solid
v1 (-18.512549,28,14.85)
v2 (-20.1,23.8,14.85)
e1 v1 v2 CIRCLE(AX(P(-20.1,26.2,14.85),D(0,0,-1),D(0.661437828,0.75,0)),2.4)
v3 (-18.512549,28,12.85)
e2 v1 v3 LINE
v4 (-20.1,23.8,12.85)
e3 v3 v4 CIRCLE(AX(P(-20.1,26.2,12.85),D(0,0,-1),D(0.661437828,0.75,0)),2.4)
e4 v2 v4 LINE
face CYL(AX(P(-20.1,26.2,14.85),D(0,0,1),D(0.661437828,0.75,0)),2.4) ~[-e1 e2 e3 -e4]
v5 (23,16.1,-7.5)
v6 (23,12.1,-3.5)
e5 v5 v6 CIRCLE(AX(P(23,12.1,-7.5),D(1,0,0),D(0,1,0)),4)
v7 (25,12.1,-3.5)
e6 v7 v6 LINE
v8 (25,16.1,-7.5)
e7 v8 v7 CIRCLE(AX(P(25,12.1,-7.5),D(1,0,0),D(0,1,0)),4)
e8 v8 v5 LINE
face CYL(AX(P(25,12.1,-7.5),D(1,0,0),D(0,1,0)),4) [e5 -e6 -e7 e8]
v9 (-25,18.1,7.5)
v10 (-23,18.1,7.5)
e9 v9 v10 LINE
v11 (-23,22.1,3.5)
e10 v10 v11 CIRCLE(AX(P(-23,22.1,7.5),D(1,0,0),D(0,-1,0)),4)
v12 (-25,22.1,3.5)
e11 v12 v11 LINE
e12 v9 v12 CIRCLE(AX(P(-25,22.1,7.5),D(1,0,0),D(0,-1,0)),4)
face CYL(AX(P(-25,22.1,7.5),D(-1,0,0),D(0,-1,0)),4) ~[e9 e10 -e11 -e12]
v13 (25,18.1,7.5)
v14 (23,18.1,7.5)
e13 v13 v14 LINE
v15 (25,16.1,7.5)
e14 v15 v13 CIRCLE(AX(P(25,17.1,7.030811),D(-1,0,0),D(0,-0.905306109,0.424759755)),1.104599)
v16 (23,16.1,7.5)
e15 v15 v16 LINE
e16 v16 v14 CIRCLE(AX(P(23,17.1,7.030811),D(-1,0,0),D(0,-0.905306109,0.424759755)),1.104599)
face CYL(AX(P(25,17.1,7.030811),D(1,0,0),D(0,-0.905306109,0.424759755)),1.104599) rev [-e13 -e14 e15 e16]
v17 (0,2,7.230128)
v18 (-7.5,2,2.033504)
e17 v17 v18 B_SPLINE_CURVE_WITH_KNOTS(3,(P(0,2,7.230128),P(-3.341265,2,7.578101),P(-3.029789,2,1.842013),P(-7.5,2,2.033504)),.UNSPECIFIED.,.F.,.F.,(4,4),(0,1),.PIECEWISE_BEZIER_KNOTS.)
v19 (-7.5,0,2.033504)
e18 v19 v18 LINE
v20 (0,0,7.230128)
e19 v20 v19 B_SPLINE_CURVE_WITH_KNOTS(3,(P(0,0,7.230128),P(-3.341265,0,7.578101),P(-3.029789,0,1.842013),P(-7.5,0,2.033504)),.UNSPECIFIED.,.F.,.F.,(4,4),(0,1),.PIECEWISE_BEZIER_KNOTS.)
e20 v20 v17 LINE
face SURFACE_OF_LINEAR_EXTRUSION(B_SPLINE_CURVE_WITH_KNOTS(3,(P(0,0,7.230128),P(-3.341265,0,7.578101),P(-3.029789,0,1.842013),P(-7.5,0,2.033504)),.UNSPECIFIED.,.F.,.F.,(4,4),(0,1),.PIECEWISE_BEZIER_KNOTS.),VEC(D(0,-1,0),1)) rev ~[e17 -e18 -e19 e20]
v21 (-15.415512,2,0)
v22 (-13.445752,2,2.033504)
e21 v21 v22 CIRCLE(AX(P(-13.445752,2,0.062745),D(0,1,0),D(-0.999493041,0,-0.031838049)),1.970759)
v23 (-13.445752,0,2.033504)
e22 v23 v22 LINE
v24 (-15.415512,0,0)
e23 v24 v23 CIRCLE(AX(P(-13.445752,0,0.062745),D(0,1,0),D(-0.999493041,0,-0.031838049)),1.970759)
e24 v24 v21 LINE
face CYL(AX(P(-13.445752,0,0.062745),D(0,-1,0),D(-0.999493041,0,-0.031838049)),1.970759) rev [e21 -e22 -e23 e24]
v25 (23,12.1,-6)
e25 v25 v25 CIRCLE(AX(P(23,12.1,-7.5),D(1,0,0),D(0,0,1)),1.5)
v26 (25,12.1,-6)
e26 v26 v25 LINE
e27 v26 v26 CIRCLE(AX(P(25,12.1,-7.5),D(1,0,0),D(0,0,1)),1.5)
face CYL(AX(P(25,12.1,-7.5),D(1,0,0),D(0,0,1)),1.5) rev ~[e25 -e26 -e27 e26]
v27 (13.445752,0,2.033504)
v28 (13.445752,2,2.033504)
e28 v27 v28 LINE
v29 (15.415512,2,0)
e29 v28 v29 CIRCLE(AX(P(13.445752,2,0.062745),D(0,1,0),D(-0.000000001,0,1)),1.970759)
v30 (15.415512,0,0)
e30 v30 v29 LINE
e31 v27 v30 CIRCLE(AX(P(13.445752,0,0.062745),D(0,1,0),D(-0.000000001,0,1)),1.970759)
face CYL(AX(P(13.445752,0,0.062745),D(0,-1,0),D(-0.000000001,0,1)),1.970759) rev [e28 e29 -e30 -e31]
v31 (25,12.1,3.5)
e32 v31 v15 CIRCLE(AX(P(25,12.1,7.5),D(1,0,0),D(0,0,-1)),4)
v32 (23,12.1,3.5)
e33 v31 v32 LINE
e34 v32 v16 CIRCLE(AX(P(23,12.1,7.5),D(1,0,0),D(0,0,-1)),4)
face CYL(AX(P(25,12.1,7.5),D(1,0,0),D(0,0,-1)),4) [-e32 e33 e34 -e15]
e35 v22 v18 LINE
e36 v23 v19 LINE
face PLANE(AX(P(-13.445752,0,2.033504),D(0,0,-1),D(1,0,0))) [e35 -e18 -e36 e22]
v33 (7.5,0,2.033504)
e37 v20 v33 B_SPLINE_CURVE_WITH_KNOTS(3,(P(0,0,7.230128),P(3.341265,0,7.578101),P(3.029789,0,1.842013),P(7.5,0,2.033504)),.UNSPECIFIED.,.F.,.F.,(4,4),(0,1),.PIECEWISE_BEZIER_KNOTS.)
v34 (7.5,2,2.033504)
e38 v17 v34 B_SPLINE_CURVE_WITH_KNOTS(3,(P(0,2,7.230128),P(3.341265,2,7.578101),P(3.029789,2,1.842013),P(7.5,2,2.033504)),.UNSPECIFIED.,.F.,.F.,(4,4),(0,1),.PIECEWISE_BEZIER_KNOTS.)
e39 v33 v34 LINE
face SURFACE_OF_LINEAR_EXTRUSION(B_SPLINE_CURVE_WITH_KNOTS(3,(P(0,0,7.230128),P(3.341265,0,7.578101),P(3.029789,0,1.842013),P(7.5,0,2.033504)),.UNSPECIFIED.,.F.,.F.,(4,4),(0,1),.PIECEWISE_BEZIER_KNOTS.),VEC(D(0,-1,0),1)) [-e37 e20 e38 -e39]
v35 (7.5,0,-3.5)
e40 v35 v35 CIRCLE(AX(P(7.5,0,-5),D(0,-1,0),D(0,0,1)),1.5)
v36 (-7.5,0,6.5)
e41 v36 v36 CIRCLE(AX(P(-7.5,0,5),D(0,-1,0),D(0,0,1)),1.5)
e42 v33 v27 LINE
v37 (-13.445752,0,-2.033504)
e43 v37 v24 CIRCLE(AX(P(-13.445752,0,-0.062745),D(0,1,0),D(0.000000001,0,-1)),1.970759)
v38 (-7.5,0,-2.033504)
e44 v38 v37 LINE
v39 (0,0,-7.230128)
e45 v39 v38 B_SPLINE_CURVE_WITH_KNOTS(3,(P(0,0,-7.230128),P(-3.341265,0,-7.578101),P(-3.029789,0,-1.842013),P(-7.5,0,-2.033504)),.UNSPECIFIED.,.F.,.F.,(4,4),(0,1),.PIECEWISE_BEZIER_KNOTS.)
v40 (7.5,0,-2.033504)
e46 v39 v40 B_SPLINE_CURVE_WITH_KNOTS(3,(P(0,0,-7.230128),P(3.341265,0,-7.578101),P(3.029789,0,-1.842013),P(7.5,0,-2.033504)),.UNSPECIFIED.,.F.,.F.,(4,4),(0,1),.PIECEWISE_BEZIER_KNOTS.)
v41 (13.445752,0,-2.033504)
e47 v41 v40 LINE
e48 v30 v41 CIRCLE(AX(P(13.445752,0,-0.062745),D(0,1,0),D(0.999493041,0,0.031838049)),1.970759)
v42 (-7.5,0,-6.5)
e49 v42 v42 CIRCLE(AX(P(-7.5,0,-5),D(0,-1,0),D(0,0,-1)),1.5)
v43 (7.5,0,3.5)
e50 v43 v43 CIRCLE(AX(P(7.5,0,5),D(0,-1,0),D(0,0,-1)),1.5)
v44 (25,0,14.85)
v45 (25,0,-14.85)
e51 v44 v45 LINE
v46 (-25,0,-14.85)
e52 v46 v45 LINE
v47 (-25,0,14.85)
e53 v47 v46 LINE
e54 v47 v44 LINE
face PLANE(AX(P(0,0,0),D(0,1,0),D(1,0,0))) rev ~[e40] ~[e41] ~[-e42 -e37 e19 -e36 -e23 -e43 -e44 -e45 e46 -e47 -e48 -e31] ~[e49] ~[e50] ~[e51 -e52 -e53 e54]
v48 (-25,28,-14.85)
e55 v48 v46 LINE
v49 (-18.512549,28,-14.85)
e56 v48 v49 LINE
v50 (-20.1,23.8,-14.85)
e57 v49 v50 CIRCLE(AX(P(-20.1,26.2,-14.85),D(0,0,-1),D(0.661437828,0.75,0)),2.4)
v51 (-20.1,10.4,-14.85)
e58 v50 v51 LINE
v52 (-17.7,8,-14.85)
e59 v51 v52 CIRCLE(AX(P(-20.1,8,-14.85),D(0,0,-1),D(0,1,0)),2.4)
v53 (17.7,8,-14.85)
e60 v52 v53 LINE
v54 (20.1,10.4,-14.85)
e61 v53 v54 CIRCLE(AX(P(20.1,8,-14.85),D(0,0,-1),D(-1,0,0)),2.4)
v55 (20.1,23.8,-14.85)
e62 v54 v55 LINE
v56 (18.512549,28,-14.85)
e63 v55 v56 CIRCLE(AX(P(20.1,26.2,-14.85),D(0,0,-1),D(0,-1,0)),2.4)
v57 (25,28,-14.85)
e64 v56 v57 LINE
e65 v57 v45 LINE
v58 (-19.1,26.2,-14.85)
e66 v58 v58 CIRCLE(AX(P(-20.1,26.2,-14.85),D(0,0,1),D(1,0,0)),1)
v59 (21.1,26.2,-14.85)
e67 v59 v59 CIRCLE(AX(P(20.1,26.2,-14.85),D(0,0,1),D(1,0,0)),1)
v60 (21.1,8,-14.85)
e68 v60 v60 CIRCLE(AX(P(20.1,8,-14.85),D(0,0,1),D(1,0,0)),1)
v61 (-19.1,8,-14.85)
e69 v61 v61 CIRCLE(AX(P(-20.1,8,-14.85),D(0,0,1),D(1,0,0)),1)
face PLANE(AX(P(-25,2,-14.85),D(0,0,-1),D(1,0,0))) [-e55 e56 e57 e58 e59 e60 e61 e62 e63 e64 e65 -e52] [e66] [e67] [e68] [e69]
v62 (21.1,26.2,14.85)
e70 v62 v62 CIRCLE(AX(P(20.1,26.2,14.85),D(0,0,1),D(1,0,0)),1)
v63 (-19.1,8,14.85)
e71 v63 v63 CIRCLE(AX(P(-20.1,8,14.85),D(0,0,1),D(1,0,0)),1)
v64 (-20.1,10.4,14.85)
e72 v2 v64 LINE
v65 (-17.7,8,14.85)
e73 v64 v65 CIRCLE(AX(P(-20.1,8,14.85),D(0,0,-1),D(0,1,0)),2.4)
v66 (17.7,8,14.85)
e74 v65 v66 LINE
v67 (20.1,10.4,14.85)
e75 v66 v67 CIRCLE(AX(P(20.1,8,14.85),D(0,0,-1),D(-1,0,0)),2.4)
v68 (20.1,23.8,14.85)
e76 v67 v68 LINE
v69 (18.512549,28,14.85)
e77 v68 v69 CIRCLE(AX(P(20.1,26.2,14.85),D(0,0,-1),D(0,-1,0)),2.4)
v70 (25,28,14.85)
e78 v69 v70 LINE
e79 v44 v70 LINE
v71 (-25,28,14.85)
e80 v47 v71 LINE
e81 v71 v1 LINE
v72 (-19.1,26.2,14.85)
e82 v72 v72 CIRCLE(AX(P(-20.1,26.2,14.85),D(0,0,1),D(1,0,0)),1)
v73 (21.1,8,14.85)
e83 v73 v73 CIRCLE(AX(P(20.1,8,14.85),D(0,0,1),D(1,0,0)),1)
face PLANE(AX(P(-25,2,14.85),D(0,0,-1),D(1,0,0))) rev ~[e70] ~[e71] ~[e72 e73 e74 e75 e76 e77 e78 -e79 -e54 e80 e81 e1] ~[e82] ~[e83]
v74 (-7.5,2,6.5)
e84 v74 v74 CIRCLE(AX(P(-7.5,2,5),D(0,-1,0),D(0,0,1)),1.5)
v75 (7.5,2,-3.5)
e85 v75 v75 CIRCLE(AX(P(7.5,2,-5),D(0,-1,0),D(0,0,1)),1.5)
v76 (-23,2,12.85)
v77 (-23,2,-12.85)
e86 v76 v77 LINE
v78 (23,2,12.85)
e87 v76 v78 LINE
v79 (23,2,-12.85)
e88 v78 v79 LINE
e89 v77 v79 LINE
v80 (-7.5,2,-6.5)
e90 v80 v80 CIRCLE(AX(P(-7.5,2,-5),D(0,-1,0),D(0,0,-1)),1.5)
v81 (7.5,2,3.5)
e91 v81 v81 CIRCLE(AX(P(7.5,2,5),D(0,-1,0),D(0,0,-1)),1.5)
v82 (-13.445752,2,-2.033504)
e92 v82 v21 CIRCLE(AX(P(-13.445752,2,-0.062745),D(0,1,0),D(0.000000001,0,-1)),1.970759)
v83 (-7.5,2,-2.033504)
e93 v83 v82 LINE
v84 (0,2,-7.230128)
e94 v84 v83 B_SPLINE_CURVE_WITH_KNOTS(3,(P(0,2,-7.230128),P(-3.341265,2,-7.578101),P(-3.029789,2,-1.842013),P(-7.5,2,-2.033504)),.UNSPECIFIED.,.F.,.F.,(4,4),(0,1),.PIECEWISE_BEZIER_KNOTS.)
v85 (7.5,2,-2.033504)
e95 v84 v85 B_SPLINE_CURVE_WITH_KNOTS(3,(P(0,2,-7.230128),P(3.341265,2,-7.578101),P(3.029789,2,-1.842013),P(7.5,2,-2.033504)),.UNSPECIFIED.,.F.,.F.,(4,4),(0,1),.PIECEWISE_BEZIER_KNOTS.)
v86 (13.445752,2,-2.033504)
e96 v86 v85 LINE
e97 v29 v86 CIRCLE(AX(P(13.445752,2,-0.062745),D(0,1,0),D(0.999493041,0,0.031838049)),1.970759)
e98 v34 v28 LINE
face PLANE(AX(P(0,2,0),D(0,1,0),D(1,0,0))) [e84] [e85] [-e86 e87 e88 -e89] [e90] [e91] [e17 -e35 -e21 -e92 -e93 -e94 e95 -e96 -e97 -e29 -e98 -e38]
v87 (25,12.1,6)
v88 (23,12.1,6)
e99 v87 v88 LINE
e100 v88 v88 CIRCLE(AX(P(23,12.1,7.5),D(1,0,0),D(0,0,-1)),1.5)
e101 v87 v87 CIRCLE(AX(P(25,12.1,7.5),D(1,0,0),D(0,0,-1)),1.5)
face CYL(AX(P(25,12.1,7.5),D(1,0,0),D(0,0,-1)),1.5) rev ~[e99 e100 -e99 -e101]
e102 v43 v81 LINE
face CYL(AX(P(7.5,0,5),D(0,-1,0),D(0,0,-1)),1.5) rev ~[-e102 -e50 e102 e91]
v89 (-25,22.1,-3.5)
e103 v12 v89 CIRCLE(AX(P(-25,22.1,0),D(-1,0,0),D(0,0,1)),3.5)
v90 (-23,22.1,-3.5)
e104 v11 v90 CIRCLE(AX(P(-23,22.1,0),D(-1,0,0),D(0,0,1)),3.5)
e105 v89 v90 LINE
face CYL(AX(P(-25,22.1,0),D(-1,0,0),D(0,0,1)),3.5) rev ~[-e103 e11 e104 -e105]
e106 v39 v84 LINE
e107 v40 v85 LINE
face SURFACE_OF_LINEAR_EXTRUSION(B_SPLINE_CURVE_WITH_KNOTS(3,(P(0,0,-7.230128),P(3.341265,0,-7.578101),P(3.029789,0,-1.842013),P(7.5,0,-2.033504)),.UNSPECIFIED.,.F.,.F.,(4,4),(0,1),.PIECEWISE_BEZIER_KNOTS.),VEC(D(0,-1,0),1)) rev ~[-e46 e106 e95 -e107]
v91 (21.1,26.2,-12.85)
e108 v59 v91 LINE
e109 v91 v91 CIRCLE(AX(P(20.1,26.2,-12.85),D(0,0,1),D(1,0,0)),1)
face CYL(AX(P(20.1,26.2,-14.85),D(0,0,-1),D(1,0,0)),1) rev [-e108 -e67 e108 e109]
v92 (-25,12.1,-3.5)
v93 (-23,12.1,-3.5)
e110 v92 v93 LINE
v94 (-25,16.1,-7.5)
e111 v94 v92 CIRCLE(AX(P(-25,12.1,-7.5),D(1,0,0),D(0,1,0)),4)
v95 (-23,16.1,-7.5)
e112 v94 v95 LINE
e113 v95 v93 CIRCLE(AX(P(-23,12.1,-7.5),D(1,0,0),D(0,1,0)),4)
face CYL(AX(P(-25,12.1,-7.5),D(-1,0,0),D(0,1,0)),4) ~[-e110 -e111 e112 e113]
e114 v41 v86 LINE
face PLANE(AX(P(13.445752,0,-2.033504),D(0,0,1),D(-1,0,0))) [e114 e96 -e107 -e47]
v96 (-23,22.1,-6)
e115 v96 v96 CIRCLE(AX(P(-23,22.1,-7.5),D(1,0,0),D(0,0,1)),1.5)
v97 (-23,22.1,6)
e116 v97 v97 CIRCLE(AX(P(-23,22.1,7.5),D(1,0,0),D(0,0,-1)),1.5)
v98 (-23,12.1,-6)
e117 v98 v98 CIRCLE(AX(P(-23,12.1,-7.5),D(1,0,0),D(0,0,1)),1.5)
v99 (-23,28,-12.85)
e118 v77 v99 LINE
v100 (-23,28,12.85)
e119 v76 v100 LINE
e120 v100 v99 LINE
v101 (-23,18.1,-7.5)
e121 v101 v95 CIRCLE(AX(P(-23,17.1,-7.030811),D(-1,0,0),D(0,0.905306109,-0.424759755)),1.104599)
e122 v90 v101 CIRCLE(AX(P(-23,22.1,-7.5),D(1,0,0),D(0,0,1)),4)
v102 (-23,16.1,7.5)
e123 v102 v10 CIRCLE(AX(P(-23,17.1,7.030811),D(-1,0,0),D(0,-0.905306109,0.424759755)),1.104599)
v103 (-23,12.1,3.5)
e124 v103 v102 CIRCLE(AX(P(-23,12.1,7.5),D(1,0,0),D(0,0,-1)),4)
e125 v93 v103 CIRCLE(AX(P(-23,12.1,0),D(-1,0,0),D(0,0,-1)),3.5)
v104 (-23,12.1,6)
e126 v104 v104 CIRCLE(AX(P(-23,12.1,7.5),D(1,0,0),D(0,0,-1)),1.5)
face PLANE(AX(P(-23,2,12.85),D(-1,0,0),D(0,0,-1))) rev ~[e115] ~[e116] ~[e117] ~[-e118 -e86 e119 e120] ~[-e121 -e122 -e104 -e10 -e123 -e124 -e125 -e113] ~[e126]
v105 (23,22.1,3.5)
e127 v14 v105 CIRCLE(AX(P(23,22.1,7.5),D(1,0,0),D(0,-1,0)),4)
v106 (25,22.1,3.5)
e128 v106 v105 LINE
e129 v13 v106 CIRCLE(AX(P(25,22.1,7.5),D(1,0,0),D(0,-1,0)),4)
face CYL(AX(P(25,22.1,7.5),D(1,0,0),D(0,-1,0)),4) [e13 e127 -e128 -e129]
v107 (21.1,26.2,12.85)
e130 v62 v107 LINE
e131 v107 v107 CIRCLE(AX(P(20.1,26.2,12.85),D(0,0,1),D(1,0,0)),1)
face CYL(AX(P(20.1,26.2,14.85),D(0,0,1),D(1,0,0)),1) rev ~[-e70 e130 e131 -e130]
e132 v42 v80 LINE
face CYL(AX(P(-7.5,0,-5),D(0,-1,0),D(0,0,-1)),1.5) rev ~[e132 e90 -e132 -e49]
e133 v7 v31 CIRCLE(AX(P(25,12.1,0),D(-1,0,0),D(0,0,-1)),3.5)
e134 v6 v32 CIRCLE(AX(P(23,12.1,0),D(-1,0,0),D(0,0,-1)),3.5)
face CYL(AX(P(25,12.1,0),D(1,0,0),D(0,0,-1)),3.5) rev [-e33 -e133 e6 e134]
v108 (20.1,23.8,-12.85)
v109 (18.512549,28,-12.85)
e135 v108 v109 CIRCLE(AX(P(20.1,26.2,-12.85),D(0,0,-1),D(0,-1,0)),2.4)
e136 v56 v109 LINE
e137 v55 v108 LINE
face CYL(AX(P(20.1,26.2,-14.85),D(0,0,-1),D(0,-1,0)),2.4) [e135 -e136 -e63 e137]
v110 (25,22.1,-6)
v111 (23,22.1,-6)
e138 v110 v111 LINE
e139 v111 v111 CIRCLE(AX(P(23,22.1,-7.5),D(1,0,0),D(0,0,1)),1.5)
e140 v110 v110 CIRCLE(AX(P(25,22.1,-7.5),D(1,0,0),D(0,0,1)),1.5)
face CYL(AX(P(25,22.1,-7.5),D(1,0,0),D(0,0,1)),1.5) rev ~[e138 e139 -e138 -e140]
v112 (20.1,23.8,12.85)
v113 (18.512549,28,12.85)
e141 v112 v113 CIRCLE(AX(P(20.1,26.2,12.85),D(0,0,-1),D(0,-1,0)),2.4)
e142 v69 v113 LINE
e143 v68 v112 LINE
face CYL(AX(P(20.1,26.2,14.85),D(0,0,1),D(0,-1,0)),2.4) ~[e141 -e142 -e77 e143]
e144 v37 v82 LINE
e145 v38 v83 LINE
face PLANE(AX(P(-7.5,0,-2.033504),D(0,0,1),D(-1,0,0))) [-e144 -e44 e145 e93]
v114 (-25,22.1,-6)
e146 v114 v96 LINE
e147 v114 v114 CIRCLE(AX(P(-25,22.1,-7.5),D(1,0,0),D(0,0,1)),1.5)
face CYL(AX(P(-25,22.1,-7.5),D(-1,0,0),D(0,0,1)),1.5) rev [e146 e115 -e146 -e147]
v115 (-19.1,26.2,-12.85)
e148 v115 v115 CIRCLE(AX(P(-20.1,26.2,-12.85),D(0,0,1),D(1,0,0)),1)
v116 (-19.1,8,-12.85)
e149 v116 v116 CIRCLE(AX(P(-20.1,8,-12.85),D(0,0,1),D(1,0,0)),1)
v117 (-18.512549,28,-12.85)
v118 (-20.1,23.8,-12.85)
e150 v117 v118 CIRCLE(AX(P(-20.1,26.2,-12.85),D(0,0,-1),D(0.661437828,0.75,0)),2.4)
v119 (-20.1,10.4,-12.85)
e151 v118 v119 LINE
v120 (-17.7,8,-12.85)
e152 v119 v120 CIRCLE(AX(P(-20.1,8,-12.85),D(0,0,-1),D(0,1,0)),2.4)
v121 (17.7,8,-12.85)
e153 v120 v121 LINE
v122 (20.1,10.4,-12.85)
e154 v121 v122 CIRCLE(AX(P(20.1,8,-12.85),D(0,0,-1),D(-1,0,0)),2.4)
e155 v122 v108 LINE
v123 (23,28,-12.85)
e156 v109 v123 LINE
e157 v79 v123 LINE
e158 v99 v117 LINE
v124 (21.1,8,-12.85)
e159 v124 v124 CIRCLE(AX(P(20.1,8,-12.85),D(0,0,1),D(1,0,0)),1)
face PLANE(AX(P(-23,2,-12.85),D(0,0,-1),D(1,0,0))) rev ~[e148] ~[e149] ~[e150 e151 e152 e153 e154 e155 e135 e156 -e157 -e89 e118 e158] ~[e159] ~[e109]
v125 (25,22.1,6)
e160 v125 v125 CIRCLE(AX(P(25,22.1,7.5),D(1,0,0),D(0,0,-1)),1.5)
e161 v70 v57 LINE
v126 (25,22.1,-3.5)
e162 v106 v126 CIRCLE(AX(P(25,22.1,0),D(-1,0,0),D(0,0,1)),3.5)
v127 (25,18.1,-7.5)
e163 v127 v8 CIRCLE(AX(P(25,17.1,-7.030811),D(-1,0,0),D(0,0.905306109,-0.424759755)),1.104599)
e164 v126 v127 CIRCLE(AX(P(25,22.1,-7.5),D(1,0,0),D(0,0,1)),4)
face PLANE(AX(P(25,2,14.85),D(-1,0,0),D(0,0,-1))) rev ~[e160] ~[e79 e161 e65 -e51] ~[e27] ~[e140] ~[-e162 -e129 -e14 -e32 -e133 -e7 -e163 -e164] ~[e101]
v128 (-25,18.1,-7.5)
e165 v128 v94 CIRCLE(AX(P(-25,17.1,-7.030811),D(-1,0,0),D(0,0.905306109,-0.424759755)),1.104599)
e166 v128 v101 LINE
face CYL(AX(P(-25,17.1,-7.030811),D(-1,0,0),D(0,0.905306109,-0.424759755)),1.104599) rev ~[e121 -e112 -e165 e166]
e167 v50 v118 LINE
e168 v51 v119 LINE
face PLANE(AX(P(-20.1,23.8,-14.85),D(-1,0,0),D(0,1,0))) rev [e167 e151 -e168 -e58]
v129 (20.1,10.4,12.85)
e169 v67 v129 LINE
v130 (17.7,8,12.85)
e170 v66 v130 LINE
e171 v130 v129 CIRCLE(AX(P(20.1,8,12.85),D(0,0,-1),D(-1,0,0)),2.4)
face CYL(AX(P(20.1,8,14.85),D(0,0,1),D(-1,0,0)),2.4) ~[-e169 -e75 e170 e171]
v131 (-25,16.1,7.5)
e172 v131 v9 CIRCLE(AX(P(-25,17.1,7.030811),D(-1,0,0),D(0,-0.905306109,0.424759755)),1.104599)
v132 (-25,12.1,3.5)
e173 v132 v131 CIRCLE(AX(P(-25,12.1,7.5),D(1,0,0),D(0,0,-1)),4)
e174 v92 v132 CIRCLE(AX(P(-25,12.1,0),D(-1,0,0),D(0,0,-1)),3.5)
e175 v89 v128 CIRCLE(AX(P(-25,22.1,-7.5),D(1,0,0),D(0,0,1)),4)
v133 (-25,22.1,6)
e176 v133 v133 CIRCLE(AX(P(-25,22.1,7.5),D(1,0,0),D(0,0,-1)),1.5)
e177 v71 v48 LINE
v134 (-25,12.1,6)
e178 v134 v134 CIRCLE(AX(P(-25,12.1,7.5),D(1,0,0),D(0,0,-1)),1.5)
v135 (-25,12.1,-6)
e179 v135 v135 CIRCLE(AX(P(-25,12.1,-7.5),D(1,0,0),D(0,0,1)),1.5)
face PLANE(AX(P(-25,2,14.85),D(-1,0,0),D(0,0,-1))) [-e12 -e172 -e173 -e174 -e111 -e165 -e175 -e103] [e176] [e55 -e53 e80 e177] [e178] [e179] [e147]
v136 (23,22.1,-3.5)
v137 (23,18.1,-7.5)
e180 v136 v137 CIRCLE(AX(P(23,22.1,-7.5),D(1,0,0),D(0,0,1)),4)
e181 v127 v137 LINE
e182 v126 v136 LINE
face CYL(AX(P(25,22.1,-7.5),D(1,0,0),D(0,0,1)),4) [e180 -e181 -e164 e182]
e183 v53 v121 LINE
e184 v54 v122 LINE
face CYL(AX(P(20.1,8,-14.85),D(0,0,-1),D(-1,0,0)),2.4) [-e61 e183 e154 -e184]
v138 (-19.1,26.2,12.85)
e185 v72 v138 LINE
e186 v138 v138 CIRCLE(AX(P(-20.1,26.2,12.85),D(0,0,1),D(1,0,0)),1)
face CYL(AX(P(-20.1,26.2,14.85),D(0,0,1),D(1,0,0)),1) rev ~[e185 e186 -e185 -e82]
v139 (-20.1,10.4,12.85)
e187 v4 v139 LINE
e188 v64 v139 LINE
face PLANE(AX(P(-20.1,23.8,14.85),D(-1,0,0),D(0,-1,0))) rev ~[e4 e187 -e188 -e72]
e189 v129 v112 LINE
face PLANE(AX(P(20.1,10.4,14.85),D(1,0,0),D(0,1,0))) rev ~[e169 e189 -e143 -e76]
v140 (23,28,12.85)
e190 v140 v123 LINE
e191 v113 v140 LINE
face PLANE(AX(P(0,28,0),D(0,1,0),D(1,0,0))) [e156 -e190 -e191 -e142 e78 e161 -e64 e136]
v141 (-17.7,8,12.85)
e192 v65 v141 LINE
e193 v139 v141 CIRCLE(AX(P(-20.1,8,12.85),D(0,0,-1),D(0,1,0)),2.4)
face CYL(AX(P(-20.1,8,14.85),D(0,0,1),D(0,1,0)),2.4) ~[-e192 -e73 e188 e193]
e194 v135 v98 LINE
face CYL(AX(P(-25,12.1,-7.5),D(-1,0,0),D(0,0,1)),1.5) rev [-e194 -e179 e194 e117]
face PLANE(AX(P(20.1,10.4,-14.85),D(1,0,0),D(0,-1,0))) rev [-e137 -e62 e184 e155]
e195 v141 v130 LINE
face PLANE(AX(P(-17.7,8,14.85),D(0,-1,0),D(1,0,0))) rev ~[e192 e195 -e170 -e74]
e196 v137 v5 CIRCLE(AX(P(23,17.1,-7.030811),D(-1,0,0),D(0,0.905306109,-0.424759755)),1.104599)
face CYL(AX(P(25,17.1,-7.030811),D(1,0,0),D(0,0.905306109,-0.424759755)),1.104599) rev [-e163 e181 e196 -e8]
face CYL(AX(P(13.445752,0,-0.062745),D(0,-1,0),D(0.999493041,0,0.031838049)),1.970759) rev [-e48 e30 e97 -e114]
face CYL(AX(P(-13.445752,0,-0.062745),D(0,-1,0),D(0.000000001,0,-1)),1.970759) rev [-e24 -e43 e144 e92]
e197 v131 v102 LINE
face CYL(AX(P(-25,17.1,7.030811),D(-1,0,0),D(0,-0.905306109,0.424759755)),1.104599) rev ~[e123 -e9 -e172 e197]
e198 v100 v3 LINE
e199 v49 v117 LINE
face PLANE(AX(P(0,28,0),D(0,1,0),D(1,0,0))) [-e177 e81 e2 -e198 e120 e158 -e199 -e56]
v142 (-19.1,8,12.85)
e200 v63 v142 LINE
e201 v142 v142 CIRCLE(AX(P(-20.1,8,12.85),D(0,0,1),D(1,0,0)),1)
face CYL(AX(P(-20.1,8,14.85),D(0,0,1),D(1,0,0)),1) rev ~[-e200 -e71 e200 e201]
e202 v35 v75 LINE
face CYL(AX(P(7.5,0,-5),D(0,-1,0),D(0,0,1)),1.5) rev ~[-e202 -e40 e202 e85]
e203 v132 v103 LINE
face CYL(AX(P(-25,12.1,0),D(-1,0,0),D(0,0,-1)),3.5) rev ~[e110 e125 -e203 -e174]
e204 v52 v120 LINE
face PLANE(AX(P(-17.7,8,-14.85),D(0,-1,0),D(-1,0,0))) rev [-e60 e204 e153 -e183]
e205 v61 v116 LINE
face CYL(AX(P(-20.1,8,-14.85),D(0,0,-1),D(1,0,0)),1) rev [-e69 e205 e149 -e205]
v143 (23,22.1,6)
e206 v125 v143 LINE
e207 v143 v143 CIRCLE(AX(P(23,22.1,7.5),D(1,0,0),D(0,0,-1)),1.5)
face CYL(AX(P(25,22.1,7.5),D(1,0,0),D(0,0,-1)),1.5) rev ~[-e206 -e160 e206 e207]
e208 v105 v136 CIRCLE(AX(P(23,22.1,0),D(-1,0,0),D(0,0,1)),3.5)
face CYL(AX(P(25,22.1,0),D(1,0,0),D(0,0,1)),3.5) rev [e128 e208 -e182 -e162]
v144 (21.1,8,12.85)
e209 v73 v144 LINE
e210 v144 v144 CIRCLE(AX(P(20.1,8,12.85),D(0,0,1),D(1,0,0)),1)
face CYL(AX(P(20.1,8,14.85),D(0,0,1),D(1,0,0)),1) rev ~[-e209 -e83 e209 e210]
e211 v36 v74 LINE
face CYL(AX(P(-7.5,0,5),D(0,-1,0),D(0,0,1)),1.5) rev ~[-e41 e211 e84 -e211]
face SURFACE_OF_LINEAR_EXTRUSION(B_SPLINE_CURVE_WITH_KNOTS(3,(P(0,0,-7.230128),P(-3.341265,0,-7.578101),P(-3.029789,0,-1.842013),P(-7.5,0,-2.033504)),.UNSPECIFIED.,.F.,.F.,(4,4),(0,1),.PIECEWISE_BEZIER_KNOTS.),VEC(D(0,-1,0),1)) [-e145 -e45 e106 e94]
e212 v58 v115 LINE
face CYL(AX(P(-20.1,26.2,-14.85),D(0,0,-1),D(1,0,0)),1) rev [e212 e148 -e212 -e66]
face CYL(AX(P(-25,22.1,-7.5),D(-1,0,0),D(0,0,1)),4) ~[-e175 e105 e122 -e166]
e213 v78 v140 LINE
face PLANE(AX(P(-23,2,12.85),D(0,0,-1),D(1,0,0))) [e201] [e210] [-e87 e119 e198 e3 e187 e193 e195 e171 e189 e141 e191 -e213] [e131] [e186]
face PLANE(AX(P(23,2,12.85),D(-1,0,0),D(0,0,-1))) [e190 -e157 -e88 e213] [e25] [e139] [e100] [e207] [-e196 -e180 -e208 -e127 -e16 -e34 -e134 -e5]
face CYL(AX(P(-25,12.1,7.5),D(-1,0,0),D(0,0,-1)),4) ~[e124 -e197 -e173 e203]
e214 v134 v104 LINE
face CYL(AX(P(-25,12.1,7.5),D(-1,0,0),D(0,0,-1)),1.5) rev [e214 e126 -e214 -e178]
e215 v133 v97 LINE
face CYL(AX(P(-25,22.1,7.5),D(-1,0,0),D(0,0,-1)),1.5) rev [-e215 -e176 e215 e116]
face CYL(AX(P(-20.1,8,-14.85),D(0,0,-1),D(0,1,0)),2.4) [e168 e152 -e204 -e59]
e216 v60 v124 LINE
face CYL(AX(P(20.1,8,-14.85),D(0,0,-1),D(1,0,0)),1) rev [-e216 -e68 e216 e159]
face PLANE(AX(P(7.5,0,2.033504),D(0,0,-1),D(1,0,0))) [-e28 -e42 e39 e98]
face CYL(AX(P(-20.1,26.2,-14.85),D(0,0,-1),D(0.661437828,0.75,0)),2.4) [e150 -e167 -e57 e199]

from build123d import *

# Parameters (mm, degrees)
SKETCH_1_W          = 50
SKETCH_1_H          = 29.7
EXTRUDE_1_DEPTH     = 2
SKETCH_2_W          = 50
SKETCH_2_H          = 29.7
SKETCH_2_W_2        = 46
SKETCH_2_H_2        = 25.7
EXTRUDE_2_DEPTH     = 26
SKETCH_4_R          = 1.5
CUT_EXTRUDE_2_DEPTH = 2
SKETCH_5_R          = 1.5
CUT_EXTRUDE_3_DEPTH = 2
SKETCH_3_R          = 1
CUT_EXTRUDE_5_DEPTH = 2


with BuildPart() as part:
    # 草图1 → 凸台-拉伸1 (new body)
    with BuildSketch(Plane(origin=(0, 0, 0), x_dir=(1, 0, 0), z_dir=(0, 1, 0))):
        Rectangle(SKETCH_1_W, SKETCH_1_H)
    extrude(amount=EXTRUDE_1_DEPTH)

    # 草图2 → 凸台-拉伸2 (add)
    with BuildSketch(Plane(origin=(0, 2, 0), x_dir=(1, 0, 0), z_dir=(0, 1, 0))):
        Rectangle(SKETCH_2_W, SKETCH_2_H)
        Rectangle(SKETCH_2_W_2, SKETCH_2_H_2, mode=Mode.SUBTRACT)
    extrude(amount=EXTRUDE_2_DEPTH)

    # 草图4 → 切除-拉伸2 (cut)
    with BuildSketch(Plane(origin=(25, 0, 0), x_dir=(0, 0, -1), z_dir=(1, 0, 0))):
        with Locations((-7.5, 12.1)):
            Circle(SKETCH_4_R)
        with Locations((-7.5, 22.1)):
            Circle(SKETCH_4_R)
        with Locations(Location((7.5, 12.1, 0), (0, 0, 180))):
            Circle(SKETCH_4_R)
        with Locations(Location((7.5, 22.1, 0), (0, 0, 180))):
            Circle(SKETCH_4_R)
        with BuildLine():
            ThreePointArc((-7.5, 18.1), (-4.671572875, 19.271572875), (-3.5, 22.1))
            ThreePointArc((-3.5, 22.1), (0, 25.6), (3.5, 22.1))
            ThreePointArc((3.5, 22.1), (4.671572875, 19.271572875), (7.5, 18.1))
            ThreePointArc((7.5, 18.1), (8.135409658, 17.1), (7.5, 16.1))
            ThreePointArc((7.5, 16.1), (4.671572875, 14.928427125), (3.5, 12.1))
            ThreePointArc((3.5, 12.1), (0, 8.6), (-3.5, 12.1))
            ThreePointArc((-3.5, 12.1), (-4.671572875, 14.928427125), (-7.5, 16.1))
            ThreePointArc((-7.5, 16.1), (-8.135409658, 17.1), (-7.5, 18.1))
        make_face()
    cut_extrude_2 = extrude(amount=-CUT_EXTRUDE_2_DEPTH, mode=Mode.SUBTRACT)

    # 镜向2: 切除-拉伸2 across plane
    add(cut_extrude_2.mirror(Plane(origin=(0, 0, 0), x_dir=(0, 0, 1), z_dir=(1, 0, 0))), mode=Mode.SUBTRACT)

    # 草图5 → 切除-拉伸3 (cut)
    with BuildSketch(Plane.XZ):
        with Locations(Location((7.5, 5, 0), (0, 0, 270))):
            Circle(SKETCH_5_R)
        with Locations(Location((7.5, -5, 0), (0, 0, 90))):
            Circle(SKETCH_5_R)
        with Locations(Location((-7.5, -5, 0), (0, 0, 270))):
            Circle(SKETCH_5_R)
        with Locations(Location((-7.5, 5, 0), (0, 0, 90))):
            Circle(SKETCH_5_R)
        with BuildLine():
            Line((7.5, 2.033504468), (13.445752083, 2.033504468))
            ThreePointArc((13.445752083, 2.033504468), (14.861299313, 1.433919229), (15.415512326, 0))
            ThreePointArc((15.415512326, 0), (14.861299313, -1.433919229), (13.445752083, -2.033504468))
            Line((13.445752083, -2.033504468), (7.5, -2.033504468))
            add(Edge.make_bspline(
                [(0, -7.23012785), (3.34126485, -7.578100632), (3.029788905, -1.842013201), (7.5, -2.033504468)],
                knots=[0, 0, 0, 0, 1, 1, 1, 1], degree=3))
            add(Edge.make_bspline(
                [(0, -7.23012785), (-3.34126485, -7.578100632), (-3.029788905, -1.842013201), (-7.5, -2.033504468)],
                knots=[0, 0, 0, 0, 1, 1, 1, 1], degree=3))
            Line((-7.5, -2.033504468), (-13.445752083, -2.033504468))
            ThreePointArc((-13.445752083, -2.033504468), (-14.861299313, -1.433919229), (-15.415512326, 0))
            ThreePointArc((-15.415512326, 0), (-14.861299313, 1.433919229), (-13.445752083, 2.033504468))
            Line((-13.445752083, 2.033504468), (-7.5, 2.033504468))
            add(Edge.make_bspline(
                [(0, 7.23012785), (-3.34126485, 7.578100632), (-3.029788905, 1.842013201), (-7.5, 2.033504468)],
                knots=[0, 0, 0, 0, 1, 1, 1, 1], degree=3))
            add(Edge.make_bspline(
                [(0, 7.23012785), (3.34126485, 7.578100632), (3.029788905, 1.842013201), (7.5, 2.033504468)],
                knots=[0, 0, 0, 0, 1, 1, 1, 1], degree=3))
        make_face()
    extrude(amount=-CUT_EXTRUDE_3_DEPTH, mode=Mode.SUBTRACT)

    # 草图3 → 切除-拉伸5 (cut)
    with BuildSketch(Plane.XY.offset(14.85)):
        with BuildLine():
            ThreePointArc((-20.1, 10.4), (-18.402943725, 9.697056275), (-17.7, 8))
            Line((-17.7, 8), (17.7, 8))
            ThreePointArc((17.7, 8), (18.402943725, 9.697056275), (20.1, 10.4))
            Line((20.1, 10.4), (20.1, 23.8))
            ThreePointArc((20.1, 23.8), (17.855005568, 25.351471863), (18.512549213, 28))
            Line((18.512549213, 28), (-18.512549213, 28))
            ThreePointArc((-18.512549213, 28), (-17.855005568, 25.351471863), (-20.1, 23.8))
            Line((-20.1, 23.8), (-20.1, 10.4))
        make_face()
        with Locations((-20.1, 8)):
            Circle(SKETCH_3_R)
        with Locations((20.1, 8)):
            Circle(SKETCH_3_R)
        with Locations((20.1, 26.2)):
            Circle(SKETCH_3_R)
        with Locations((-20.1, 26.2)):
            Circle(SKETCH_3_R)
    cut_extrude_5 = extrude(amount=-CUT_EXTRUDE_5_DEPTH, mode=Mode.SUBTRACT)

    # 镜向4: 切除-拉伸5 across plane
    add(cut_extrude_5.mirror(Plane.XY), mode=Mode.SUBTRACT)


solid = part.part
